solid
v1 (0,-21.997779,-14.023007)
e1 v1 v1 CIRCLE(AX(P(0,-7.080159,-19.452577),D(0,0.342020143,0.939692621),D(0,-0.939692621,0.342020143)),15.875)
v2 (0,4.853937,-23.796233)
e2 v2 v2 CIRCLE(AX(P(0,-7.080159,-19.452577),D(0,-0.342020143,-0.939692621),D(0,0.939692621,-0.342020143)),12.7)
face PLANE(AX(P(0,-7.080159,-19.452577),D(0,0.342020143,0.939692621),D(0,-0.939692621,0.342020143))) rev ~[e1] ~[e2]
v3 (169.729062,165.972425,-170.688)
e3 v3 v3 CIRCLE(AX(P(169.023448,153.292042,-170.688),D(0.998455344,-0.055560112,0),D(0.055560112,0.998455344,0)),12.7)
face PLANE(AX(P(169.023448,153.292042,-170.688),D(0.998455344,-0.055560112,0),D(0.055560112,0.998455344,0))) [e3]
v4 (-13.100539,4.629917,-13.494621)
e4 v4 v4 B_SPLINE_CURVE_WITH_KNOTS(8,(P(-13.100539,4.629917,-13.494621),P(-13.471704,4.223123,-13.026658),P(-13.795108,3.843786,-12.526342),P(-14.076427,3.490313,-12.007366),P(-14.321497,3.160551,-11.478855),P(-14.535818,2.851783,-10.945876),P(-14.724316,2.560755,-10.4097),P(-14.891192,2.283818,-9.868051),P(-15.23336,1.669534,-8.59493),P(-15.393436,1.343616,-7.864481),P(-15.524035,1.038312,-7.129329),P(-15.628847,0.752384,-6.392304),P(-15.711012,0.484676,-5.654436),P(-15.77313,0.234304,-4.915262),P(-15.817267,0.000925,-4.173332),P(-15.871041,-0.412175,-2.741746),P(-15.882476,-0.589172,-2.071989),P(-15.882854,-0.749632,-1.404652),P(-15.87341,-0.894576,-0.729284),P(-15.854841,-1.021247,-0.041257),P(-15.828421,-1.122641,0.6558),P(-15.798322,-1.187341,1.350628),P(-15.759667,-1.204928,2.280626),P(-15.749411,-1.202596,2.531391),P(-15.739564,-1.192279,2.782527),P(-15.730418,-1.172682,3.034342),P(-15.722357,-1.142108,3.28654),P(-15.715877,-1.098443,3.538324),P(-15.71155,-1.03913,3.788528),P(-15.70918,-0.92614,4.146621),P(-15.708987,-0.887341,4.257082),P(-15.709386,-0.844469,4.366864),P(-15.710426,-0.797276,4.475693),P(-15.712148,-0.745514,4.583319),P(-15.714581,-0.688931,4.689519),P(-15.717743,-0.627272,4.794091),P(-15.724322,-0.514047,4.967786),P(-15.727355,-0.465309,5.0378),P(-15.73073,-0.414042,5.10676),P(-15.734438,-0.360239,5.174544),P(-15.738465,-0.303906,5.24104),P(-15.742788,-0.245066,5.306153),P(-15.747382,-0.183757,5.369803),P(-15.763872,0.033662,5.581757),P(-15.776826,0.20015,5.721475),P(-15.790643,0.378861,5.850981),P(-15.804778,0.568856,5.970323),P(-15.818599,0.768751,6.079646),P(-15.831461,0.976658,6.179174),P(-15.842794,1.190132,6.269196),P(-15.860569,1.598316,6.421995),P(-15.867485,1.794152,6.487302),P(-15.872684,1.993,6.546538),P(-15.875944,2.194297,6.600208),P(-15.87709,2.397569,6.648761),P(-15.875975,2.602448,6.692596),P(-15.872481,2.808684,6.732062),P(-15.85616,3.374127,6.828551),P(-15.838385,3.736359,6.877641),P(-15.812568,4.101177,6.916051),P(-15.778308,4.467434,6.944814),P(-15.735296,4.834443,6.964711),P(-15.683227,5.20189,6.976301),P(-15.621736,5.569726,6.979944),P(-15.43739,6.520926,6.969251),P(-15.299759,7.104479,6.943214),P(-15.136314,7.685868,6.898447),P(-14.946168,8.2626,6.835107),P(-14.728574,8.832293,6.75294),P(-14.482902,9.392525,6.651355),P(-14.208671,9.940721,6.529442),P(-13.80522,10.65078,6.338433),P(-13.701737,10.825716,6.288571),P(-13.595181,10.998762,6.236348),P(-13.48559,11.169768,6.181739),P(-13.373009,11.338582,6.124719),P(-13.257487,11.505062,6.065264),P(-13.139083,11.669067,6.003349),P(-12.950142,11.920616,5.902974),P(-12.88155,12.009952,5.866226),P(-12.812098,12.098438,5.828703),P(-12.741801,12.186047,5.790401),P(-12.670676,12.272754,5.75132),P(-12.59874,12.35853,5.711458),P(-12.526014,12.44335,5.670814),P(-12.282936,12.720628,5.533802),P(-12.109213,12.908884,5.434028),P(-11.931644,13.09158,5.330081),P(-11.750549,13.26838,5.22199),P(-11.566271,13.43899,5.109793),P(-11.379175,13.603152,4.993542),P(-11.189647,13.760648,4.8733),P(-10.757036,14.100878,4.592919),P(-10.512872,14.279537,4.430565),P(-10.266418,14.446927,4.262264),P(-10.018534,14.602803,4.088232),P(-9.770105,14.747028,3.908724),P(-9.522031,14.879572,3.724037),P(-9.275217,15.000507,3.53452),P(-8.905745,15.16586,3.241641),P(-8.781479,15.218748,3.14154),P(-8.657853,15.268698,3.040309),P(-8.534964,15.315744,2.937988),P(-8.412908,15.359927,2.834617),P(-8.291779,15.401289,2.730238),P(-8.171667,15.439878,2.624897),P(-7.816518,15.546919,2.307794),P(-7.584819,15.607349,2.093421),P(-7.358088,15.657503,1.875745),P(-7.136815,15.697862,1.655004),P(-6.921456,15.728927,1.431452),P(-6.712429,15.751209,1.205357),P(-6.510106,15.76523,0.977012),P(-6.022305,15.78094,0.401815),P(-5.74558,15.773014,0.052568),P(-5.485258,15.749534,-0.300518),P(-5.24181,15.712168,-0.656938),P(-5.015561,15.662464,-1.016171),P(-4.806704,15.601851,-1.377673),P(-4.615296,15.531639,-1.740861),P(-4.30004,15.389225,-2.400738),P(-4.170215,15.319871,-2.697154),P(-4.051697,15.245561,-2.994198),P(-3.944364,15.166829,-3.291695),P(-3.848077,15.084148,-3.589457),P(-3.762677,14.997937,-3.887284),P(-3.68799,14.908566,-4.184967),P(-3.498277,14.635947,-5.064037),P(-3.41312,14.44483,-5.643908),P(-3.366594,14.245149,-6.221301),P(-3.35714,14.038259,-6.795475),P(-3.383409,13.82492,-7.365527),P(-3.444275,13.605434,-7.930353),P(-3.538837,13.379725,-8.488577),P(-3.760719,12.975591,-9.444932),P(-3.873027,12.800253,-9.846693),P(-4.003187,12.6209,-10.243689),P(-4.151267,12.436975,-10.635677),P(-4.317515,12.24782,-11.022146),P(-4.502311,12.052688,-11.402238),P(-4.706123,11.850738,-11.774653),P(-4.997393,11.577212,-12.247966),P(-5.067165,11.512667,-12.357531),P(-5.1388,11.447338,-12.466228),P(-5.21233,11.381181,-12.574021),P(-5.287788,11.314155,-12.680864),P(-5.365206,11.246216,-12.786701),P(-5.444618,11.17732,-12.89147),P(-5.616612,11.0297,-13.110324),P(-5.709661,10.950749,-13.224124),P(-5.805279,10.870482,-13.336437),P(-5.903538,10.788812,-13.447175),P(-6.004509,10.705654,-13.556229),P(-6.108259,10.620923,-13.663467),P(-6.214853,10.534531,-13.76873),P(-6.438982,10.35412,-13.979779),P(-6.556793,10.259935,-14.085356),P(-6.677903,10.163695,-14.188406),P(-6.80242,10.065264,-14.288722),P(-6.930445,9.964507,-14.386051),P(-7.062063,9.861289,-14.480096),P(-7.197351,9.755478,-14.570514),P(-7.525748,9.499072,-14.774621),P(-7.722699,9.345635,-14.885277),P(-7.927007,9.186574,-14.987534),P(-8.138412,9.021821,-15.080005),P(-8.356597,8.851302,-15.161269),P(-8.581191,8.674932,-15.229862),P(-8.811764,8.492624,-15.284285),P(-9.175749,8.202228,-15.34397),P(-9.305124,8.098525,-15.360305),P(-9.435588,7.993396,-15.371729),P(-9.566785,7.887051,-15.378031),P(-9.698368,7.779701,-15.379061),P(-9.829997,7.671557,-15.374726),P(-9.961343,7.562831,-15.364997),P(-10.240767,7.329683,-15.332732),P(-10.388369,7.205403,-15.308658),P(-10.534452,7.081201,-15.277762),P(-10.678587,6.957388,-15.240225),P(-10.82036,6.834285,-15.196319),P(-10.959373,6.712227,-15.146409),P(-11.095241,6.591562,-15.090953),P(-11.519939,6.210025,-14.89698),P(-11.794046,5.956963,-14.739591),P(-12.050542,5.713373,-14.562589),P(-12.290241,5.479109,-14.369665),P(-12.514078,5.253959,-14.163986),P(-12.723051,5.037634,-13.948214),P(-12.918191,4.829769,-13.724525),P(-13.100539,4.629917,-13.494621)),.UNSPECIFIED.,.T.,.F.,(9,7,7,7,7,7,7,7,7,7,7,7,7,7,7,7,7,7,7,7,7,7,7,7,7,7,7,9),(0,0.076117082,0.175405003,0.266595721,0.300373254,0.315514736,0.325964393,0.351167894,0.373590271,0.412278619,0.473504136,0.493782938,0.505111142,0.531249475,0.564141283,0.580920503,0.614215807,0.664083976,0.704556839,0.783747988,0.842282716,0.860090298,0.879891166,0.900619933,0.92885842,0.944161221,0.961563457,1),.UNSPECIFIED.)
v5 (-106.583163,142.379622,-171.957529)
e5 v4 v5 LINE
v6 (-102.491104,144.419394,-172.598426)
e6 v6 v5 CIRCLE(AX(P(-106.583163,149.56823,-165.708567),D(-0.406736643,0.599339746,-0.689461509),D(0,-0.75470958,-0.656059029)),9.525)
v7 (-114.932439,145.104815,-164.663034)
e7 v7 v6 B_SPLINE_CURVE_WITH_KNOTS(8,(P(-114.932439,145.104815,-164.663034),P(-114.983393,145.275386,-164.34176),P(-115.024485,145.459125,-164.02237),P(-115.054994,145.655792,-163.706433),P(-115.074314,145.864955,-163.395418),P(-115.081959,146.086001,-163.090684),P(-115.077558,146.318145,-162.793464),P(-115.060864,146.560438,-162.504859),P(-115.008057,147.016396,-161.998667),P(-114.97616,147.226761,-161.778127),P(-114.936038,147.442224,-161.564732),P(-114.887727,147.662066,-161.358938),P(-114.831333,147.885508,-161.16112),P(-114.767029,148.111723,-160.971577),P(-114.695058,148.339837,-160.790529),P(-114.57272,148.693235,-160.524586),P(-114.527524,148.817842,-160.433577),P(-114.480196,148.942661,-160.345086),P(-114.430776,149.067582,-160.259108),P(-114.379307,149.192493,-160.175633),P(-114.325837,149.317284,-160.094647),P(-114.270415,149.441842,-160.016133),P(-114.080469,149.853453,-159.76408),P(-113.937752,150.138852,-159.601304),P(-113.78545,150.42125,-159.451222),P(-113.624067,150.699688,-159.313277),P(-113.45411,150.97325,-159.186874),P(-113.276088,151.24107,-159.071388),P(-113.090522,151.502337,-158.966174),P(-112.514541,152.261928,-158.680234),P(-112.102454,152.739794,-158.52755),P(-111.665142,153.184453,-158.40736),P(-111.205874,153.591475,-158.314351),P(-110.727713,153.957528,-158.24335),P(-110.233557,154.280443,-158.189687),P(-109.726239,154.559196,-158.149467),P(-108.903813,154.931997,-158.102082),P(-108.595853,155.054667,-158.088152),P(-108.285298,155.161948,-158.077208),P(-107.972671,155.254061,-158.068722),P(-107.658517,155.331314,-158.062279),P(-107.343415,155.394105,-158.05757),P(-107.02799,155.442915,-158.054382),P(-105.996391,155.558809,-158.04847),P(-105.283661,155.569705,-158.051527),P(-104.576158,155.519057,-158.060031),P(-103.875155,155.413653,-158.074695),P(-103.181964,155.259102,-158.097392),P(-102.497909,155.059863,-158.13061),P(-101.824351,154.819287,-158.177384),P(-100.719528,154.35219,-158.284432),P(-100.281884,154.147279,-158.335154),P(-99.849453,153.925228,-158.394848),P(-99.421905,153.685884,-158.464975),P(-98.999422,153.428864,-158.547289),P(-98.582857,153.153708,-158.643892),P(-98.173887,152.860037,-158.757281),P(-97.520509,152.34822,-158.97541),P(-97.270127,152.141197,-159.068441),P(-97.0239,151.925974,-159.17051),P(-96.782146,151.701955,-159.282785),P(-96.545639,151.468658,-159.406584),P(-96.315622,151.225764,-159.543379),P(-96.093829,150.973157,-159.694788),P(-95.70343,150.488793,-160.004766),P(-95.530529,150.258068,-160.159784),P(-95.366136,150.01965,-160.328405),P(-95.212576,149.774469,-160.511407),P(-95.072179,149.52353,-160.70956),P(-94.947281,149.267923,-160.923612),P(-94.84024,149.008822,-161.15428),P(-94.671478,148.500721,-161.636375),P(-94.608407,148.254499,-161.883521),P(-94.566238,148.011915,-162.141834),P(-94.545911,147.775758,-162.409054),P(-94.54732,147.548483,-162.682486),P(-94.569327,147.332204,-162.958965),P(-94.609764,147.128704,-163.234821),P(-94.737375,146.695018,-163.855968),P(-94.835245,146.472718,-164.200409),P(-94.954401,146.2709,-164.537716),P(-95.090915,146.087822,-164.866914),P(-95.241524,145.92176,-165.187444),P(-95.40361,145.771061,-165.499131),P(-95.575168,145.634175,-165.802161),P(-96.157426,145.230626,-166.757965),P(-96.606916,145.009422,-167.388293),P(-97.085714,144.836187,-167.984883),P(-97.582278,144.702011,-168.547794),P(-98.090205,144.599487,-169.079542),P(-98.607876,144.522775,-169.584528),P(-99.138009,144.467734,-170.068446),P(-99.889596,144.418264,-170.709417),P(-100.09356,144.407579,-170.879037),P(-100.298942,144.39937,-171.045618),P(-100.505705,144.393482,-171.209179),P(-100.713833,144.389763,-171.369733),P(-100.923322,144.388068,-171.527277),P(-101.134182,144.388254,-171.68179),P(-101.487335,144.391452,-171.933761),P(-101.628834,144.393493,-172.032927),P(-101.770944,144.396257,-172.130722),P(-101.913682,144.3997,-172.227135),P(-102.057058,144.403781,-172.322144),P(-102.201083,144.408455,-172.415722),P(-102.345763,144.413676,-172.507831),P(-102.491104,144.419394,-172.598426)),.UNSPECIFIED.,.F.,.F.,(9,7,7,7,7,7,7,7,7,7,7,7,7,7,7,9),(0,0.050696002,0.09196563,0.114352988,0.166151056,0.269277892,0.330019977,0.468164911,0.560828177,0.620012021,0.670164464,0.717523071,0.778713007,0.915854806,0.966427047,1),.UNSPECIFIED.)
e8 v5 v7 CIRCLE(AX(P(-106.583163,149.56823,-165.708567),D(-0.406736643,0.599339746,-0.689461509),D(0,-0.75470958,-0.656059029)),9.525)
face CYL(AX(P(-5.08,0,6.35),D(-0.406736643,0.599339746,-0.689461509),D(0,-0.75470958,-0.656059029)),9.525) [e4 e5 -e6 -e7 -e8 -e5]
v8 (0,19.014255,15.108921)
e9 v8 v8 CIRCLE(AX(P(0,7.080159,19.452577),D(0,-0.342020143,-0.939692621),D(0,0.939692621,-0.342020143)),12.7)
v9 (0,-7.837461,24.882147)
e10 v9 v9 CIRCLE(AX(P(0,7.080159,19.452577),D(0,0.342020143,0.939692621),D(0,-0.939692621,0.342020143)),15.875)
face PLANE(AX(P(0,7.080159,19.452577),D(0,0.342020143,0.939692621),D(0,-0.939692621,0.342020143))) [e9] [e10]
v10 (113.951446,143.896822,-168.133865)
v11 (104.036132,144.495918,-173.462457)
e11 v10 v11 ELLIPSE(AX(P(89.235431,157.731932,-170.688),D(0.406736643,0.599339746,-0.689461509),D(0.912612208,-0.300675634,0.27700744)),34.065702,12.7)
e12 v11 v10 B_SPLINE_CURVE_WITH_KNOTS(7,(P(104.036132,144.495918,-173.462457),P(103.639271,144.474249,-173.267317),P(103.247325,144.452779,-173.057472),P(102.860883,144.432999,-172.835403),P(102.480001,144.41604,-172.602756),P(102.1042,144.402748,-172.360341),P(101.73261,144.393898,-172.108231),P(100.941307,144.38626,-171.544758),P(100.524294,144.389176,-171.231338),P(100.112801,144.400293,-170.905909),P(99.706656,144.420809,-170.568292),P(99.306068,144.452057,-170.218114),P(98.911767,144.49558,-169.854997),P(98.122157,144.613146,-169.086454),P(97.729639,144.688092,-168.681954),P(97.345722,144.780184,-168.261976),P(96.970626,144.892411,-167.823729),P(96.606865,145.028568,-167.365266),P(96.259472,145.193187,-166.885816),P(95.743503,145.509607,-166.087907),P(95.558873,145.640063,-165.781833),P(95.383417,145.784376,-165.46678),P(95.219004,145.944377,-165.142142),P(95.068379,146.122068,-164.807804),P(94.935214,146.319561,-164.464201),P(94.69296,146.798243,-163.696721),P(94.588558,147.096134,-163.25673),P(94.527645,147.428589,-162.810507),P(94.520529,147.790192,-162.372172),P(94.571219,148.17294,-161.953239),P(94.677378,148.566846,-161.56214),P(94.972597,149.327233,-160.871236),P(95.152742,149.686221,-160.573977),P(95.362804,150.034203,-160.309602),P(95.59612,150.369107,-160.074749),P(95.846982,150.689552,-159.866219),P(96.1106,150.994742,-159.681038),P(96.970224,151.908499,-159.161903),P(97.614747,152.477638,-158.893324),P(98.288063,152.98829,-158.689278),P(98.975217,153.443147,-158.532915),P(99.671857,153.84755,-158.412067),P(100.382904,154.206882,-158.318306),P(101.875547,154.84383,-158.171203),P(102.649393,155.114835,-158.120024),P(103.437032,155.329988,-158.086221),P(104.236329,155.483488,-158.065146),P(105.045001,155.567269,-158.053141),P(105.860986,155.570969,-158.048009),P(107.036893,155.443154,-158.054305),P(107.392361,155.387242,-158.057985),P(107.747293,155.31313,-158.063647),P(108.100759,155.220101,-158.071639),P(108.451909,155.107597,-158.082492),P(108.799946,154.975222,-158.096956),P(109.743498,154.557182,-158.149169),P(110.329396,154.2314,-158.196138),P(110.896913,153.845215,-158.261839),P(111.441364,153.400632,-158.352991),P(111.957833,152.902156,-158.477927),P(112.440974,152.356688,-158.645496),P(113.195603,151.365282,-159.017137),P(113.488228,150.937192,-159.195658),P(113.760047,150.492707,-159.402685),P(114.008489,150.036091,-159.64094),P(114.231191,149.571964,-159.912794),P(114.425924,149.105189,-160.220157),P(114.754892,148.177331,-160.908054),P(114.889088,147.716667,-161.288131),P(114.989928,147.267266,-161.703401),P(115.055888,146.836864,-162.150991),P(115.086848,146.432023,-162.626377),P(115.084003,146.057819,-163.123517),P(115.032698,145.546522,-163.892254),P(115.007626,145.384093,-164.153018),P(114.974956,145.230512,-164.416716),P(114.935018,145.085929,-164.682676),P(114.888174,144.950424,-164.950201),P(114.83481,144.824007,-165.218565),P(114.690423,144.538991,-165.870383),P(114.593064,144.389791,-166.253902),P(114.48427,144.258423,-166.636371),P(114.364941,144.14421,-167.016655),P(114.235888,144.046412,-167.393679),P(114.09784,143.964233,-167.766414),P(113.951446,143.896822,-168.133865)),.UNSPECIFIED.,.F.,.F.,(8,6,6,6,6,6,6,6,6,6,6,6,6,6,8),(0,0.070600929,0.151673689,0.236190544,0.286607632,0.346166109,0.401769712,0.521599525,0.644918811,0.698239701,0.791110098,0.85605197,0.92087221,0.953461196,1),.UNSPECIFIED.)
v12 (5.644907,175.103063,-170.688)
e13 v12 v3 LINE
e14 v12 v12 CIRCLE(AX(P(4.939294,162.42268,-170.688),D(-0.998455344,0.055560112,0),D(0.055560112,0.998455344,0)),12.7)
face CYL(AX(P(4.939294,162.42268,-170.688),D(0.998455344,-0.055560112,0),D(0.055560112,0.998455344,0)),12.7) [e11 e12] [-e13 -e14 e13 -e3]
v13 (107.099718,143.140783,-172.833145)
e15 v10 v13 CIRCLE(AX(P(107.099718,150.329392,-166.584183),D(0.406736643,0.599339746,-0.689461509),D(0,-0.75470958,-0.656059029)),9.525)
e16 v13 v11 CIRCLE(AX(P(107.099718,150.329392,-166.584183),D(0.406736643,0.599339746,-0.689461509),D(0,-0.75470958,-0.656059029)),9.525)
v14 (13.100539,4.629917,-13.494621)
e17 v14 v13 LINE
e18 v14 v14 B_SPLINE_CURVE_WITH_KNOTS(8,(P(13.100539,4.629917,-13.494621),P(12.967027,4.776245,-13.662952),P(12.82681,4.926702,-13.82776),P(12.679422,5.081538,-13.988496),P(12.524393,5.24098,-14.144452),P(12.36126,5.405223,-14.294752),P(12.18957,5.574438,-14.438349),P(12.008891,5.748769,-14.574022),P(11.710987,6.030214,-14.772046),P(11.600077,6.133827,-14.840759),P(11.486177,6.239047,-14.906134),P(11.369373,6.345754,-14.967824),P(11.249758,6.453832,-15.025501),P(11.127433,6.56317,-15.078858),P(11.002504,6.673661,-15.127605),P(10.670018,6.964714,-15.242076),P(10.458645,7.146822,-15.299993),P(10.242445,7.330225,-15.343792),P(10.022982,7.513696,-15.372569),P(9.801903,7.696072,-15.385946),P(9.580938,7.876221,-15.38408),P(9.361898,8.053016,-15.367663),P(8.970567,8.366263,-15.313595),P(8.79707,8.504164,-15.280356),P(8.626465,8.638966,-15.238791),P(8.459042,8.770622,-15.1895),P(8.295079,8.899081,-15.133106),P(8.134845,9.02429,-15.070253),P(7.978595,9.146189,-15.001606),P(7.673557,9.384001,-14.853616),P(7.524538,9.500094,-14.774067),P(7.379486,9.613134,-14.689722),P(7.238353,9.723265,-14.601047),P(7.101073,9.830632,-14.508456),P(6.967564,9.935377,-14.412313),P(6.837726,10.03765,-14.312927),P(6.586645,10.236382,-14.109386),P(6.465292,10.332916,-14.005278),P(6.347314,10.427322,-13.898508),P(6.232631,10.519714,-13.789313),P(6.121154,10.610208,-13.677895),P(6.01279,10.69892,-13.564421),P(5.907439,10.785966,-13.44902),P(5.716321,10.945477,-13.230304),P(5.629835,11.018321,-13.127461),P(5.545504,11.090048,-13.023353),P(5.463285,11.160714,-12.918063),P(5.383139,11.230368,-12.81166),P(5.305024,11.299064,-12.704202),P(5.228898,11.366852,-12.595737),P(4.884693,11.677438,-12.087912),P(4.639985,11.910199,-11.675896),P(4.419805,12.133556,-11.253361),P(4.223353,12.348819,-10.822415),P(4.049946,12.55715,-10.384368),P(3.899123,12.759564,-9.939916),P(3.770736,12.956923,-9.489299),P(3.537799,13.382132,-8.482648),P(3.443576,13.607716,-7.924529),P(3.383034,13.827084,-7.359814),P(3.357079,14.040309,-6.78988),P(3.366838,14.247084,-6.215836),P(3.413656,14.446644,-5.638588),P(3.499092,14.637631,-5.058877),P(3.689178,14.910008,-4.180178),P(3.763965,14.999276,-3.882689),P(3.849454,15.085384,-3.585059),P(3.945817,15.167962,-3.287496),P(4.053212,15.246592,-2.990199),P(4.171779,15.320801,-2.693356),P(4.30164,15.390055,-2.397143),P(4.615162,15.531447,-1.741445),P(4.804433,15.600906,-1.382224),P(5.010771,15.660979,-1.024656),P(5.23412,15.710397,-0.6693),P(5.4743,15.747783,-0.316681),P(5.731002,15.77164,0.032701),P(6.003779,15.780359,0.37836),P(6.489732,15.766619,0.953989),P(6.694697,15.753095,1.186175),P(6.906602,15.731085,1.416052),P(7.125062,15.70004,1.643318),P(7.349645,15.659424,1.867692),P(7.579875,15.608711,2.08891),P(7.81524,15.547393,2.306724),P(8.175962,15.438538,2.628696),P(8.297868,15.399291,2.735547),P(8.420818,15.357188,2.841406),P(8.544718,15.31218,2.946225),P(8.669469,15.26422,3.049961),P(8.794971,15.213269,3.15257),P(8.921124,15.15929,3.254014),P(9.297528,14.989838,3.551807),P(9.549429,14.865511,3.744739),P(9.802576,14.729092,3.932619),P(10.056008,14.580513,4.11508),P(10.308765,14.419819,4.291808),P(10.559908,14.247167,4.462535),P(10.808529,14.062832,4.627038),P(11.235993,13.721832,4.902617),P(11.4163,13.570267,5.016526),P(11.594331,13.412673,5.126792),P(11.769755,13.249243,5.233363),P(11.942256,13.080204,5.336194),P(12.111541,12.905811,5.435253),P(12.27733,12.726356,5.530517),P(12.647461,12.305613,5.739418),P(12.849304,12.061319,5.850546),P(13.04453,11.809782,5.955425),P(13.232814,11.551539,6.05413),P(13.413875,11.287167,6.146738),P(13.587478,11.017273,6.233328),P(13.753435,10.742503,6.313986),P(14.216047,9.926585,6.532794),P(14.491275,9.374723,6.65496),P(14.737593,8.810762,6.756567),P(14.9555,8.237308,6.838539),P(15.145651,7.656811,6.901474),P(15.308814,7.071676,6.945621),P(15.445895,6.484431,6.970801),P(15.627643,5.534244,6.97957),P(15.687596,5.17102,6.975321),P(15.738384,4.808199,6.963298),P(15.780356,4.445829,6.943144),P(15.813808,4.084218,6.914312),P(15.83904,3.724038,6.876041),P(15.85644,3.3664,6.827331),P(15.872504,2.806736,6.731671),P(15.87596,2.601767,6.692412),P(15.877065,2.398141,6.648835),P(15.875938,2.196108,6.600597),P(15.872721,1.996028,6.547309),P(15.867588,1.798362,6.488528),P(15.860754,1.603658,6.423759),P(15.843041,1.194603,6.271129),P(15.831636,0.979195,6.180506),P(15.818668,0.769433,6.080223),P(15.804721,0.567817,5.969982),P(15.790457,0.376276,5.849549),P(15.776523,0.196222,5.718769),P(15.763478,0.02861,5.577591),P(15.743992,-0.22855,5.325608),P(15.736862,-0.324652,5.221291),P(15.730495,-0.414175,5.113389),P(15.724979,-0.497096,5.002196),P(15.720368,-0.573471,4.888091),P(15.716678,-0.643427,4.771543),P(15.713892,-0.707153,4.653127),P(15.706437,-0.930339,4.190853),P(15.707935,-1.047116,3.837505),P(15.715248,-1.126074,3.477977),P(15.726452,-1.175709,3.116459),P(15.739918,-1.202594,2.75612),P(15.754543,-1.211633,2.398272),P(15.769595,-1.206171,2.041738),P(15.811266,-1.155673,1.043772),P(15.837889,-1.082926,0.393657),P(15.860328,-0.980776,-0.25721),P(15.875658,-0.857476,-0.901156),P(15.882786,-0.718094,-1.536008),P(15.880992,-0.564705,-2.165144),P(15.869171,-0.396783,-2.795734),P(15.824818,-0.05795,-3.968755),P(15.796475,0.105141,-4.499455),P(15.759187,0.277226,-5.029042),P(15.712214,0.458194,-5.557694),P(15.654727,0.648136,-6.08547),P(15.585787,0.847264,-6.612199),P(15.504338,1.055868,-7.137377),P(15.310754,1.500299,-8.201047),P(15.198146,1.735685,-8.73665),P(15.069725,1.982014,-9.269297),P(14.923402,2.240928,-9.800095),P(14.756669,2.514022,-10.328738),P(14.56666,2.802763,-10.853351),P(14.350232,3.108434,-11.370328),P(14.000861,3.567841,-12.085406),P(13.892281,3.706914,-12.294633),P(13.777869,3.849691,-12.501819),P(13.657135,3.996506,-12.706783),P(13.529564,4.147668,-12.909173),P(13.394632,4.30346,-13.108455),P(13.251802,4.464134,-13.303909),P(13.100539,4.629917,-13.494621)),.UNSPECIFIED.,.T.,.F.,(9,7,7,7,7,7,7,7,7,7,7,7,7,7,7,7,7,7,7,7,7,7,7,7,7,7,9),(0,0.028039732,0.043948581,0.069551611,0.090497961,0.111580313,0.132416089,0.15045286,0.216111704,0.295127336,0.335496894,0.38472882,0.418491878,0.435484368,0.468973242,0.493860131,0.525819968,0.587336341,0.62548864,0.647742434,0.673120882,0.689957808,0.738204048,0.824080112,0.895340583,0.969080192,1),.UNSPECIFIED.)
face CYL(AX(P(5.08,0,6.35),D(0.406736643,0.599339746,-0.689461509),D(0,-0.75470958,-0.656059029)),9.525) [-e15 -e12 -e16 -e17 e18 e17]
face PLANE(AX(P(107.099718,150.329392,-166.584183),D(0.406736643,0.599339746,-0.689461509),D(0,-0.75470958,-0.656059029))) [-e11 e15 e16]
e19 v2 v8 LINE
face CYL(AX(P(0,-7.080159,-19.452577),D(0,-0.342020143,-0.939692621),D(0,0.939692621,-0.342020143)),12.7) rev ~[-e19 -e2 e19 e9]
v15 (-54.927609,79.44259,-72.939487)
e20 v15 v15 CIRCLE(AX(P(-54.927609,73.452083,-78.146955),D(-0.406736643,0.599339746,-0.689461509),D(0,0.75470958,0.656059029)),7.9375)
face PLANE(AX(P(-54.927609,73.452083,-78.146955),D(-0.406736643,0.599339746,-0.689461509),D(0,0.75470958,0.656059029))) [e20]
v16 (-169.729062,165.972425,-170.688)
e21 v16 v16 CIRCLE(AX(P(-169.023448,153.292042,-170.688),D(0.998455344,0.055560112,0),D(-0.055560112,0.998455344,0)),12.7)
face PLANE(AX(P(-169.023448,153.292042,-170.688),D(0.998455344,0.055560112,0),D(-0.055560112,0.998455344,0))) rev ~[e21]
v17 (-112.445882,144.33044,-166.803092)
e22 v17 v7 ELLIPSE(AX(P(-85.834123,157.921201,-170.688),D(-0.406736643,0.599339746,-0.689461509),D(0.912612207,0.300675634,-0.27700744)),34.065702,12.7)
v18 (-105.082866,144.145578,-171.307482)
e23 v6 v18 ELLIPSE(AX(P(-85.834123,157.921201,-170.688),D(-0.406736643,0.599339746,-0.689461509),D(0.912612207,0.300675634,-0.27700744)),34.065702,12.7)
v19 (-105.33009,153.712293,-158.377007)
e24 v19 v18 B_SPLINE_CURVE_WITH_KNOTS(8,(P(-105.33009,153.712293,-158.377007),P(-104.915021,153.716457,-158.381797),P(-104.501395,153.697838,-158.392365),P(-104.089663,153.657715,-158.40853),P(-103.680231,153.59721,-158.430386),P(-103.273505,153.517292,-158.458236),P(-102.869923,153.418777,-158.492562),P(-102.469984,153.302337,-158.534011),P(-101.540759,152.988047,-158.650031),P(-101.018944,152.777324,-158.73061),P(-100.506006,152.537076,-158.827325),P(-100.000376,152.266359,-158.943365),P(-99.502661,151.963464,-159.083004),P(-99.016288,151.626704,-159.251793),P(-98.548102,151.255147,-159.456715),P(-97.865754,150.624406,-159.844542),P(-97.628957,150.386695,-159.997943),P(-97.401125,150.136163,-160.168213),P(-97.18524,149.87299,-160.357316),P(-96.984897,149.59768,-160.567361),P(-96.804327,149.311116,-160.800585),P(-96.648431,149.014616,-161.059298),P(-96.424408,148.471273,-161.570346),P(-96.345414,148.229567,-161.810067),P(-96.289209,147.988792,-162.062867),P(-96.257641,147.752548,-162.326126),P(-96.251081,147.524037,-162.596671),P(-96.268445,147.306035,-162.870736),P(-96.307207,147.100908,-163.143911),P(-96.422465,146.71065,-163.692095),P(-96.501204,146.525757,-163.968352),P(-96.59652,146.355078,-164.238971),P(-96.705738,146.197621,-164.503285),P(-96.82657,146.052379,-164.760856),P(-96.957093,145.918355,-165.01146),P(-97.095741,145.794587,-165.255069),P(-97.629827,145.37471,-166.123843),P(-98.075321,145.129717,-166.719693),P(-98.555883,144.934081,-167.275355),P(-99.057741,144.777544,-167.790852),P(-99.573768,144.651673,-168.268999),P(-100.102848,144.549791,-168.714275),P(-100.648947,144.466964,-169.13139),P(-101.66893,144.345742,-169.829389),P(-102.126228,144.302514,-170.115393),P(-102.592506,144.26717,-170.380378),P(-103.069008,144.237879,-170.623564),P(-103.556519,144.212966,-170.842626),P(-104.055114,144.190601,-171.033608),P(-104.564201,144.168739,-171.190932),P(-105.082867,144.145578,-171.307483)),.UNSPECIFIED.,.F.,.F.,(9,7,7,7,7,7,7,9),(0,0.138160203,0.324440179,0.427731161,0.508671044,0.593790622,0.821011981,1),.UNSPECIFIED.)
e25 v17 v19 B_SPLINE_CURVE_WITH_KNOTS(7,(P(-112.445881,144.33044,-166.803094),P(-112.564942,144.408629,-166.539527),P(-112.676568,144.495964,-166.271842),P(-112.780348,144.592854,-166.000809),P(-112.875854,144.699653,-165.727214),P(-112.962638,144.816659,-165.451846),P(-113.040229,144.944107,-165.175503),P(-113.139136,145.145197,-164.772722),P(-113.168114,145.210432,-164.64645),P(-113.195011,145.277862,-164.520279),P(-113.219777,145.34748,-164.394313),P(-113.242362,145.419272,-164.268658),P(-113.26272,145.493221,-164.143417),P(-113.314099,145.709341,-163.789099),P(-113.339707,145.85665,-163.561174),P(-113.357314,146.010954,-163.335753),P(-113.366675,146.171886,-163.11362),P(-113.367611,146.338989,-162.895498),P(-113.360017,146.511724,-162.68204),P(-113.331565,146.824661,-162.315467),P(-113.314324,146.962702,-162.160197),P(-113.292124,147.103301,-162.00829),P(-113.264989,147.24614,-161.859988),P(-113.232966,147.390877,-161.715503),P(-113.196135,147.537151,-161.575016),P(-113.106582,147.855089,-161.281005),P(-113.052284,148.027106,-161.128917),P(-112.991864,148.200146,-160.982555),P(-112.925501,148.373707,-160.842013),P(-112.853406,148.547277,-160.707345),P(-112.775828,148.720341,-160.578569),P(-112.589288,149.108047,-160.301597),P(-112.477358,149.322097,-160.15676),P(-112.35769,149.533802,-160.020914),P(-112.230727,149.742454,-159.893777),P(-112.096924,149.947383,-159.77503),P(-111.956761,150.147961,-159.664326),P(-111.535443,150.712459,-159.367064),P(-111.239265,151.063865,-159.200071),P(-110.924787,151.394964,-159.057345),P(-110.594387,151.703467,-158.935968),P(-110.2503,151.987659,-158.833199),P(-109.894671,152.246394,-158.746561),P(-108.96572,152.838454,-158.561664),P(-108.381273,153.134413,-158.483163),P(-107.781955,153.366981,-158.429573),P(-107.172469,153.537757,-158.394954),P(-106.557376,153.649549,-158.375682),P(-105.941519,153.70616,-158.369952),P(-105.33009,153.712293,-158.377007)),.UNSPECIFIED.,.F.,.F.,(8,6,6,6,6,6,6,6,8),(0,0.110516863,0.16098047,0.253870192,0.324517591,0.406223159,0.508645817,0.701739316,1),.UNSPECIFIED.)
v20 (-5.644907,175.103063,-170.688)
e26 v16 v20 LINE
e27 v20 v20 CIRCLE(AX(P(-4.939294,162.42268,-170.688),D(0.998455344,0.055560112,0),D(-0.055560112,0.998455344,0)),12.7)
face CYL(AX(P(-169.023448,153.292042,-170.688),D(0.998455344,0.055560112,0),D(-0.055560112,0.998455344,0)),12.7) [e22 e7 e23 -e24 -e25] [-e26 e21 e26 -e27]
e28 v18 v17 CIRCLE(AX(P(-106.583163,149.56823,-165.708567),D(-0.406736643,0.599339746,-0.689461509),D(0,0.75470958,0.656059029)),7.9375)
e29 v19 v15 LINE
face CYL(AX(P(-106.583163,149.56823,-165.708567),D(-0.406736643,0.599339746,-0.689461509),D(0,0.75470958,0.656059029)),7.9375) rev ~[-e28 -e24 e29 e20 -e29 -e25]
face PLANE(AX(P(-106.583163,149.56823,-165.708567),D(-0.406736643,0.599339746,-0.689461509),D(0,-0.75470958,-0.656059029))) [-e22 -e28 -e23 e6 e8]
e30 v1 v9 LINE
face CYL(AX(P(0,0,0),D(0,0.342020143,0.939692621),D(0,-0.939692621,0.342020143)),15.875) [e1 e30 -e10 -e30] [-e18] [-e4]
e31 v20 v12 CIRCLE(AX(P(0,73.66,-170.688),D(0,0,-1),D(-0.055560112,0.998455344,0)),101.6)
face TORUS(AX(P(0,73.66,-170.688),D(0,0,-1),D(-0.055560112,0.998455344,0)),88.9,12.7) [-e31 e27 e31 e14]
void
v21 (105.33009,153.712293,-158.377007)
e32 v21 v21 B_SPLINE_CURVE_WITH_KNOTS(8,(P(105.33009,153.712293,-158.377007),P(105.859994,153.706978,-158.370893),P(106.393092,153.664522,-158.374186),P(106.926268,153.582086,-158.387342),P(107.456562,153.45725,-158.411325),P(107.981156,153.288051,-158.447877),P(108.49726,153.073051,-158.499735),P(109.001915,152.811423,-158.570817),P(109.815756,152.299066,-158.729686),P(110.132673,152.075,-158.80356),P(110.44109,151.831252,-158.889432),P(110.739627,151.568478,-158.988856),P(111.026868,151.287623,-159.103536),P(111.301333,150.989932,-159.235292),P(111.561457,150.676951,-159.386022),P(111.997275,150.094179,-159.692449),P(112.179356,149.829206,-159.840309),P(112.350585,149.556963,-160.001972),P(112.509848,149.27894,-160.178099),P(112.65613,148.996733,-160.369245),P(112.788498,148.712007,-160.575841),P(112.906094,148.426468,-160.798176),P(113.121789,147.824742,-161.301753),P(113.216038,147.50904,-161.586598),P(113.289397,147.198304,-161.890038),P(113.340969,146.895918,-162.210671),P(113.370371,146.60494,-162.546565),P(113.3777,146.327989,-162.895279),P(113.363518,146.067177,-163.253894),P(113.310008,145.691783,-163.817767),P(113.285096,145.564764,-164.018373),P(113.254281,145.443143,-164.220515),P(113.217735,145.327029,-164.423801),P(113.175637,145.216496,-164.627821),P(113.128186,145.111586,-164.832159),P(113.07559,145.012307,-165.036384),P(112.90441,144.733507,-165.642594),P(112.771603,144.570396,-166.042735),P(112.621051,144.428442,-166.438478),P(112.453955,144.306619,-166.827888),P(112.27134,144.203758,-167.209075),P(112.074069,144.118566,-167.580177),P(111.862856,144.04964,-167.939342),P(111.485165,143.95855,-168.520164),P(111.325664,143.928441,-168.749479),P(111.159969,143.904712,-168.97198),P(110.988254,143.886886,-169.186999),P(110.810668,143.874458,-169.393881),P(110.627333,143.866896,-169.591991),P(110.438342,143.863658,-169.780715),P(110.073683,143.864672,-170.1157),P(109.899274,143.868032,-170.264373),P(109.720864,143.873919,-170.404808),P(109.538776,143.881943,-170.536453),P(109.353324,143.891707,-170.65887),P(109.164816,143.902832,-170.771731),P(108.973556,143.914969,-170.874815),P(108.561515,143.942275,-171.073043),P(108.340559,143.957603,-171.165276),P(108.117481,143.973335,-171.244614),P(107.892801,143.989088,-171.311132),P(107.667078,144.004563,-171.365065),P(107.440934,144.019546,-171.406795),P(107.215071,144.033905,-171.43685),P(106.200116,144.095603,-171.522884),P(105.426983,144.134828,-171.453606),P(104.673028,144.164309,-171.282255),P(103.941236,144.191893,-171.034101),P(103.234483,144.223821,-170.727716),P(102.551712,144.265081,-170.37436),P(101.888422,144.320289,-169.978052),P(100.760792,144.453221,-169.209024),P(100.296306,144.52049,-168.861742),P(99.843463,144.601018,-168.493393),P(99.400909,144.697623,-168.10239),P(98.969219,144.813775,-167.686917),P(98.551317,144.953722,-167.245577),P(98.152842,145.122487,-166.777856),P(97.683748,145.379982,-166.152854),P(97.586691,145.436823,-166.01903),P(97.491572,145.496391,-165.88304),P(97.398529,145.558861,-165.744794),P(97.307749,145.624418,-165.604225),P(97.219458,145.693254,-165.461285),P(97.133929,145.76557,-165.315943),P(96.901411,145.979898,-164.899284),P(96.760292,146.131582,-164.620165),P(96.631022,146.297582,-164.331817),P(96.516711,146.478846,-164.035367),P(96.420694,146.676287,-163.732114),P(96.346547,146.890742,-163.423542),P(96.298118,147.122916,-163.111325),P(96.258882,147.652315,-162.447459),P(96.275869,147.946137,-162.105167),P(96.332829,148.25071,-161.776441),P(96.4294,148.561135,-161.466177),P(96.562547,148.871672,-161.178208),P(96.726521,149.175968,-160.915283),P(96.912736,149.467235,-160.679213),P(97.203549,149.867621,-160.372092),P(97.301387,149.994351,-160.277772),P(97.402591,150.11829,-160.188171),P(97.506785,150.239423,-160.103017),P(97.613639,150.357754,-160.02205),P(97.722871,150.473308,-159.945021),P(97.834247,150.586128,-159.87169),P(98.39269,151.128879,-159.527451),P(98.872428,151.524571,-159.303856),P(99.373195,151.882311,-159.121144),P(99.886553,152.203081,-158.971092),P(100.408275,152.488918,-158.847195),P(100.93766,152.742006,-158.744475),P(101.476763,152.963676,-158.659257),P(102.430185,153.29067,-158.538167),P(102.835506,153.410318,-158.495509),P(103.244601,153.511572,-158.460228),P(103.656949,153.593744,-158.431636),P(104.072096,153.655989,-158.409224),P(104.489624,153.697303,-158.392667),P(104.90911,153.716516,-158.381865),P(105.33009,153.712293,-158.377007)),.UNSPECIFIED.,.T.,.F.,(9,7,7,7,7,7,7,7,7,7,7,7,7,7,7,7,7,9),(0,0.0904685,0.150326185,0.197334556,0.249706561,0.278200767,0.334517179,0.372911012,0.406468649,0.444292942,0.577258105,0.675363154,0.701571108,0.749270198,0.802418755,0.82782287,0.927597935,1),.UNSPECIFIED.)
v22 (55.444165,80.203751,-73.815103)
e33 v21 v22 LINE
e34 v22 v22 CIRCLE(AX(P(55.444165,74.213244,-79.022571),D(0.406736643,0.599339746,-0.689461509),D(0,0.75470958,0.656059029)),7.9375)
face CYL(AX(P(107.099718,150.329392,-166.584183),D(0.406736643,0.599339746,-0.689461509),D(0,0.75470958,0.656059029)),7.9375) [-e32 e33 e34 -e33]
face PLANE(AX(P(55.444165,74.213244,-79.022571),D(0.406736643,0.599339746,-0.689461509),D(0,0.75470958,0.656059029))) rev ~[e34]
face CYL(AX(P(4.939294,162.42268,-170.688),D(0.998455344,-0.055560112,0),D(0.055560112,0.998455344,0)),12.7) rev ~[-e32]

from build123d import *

# Parameters (mm, degrees)
SKETCH1_R           = 15.875
BOSS_EXTRUDE1_DEPTH = 20.701
SWEEP1_PROFILE_R    = 9.525
SWEEP2_PROFILE_R    = 9.525
CUT_EXTRUDE1_REACH  = 255.716
SKETCH2_R           = 12.7
SKETCH36_R          = 7.9375
CUT_EXTRUDE2_DEPTH  = 127
SKETCH37_R          = 7.9375
CUT_EXTRUDE3_DEPTH  = 127
SWEEP3_PROFILE_R    = 12.7


with BuildPart() as part:
    # Sketch1 → Boss-Extrude1 (new, symmetric)
    with BuildSketch(Plane(origin=(0, 0, 0), x_dir=(1, 0, 0), z_dir=(0, 0.34202014332566943, 0.9396926207859081))):
        with Locations(Location((0, 0, 0), (0, 0, 270))):
            Circle(SKETCH1_R)
    extrude(amount=BOSS_EXTRUDE1_DEPTH, both=True)

    # Sweep1: sweep along a path in Sketch4
    with BuildLine(Plane(origin=(0, 3.144101118, 2.733125404), x_dir=(1, 0, 0), z_dir=(0, 0.7547095802227732, 0.6560590289905059))) as sweep1_path:
        Line((-5.08, -4.792405834), (-106.583162963, 223.187430848))
    # Sweep1 profile (on start of the path) → Sweep1 (sweep)
    with BuildSketch(Plane(origin=(-5.08, 0, 6.35), x_dir=(0, -0.7547095802227732, -0.656059028990506), z_dir=(-0.406736643075801, 0.5993397458796919, -0.6894615088518683))):
        Circle(SWEEP1_PROFILE_R)
    sweep(path=sweep1_path.line)

    # Sweep2: sweep along a path in Sketch15
    with BuildLine(Plane(origin=(0, 3.144101118, 2.733125404), x_dir=(1, 0, 0), z_dir=(0, 0.7547095802227732, 0.6560590289905059))) as sweep2_path:
        Line((5.08, -4.792405834), (107.099718499, 224.347633579))
    # Sweep2 profile (on start of the path) → Sweep2 (sweep)
    with BuildSketch(Plane(origin=(5.08, 0, 6.35), x_dir=(0, -0.7547095802227732, -0.6560590289905059), z_dir=(0.4067366430758011, 0.5993397458796919, -0.6894615088518683))):
        Circle(SWEEP2_PROFILE_R)
    sweep(path=sweep2_path.line)

    # Sketch2 → Cut-Extrude1 (cut, up to next)
    with BuildSketch(Plane(origin=(0, -7.080158987, -19.452576943), x_dir=(-1, 0, 0), z_dir=(0, -0.34202014332566943, -0.9396926207859081)), mode=Mode.PRIVATE) as cut_extrude1_sk1:
        with Locations(Location((0, 0, 0), (0, 0, 90))):
            Circle(SKETCH2_R)
    cut_extrude1_tool1 = extrude(cut_extrude1_sk1.sketch, amount=-CUT_EXTRUDE1_REACH, mode=Mode.PRIVATE) & part.part
    add(cut_extrude1_tool1.solids().sort_by_distance((0, -7.080159, -19.452577))[0], mode=Mode.SUBTRACT)

    # Sketch36 → Cut-Extrude2 (cut)
    with BuildSketch(Plane(origin=(-100.562845424, 148.182641636, -170.464629437), x_dir=(0.9116799149626169, 0.3145053776413387, -0.264435436521724), z_dir=(-0.40673664307580115, 0.599339745879692, -0.6894615088518682))):
        with Locations(Location((-6.31049899, -4.578407264, 0), (0, 0, 273.662259186))):
            Circle(SKETCH36_R)
    extrude(amount=-CUT_EXTRUDE2_DEPTH, mode=Mode.SUBTRACT)

    # Sketch37 → Cut-Extrude3 (cut)
    with BuildSketch(Plane(origin=(101.079400961, 148.943803114, -171.340245553), x_dir=(0.9116799149626169, -0.31450537764133857, 0.2644354365217239), z_dir=(0.40673664307580104, 0.5993397458796917, -0.6894615088518683))):
        with Locations(Location((6.31049899, -4.578407264, 0), (0, 0, 266.337740814))):
            Circle(SKETCH37_R)
    extrude(amount=-CUT_EXTRUDE3_DEPTH, mode=Mode.SUBTRACT)

    # Sweep3: sweep along a path in Sketch40
    with BuildLine(Plane(origin=(-106.934, 0, -170.688), x_dir=(1, 0, 0), z_dir=(0, 0, 1))) as sweep3_path:
        Line((-62.089448271, 153.292042412), (101.994706052, 162.422680082))
        ThreePointArc((101.994706052, 162.422680082), (106.934, 162.56), (111.873293948, 162.422680082))
        Line((111.873293948, 162.422680082), (275.957448271, 153.292042412))
    # Sweep3 profile (on start of the path) → Sweep3 (sweep)
    with BuildSketch(Plane(origin=(-169.023448271, 153.292042412, -170.688), x_dir=(-0.055560111902353555, 0.9984553440016224, 0), z_dir=(0.9984553440016224, 0.055560111902353555, 0))):
        Circle(SWEEP3_PROFILE_R)
    sweep(path=sweep3_path.line)


solid = part.part
